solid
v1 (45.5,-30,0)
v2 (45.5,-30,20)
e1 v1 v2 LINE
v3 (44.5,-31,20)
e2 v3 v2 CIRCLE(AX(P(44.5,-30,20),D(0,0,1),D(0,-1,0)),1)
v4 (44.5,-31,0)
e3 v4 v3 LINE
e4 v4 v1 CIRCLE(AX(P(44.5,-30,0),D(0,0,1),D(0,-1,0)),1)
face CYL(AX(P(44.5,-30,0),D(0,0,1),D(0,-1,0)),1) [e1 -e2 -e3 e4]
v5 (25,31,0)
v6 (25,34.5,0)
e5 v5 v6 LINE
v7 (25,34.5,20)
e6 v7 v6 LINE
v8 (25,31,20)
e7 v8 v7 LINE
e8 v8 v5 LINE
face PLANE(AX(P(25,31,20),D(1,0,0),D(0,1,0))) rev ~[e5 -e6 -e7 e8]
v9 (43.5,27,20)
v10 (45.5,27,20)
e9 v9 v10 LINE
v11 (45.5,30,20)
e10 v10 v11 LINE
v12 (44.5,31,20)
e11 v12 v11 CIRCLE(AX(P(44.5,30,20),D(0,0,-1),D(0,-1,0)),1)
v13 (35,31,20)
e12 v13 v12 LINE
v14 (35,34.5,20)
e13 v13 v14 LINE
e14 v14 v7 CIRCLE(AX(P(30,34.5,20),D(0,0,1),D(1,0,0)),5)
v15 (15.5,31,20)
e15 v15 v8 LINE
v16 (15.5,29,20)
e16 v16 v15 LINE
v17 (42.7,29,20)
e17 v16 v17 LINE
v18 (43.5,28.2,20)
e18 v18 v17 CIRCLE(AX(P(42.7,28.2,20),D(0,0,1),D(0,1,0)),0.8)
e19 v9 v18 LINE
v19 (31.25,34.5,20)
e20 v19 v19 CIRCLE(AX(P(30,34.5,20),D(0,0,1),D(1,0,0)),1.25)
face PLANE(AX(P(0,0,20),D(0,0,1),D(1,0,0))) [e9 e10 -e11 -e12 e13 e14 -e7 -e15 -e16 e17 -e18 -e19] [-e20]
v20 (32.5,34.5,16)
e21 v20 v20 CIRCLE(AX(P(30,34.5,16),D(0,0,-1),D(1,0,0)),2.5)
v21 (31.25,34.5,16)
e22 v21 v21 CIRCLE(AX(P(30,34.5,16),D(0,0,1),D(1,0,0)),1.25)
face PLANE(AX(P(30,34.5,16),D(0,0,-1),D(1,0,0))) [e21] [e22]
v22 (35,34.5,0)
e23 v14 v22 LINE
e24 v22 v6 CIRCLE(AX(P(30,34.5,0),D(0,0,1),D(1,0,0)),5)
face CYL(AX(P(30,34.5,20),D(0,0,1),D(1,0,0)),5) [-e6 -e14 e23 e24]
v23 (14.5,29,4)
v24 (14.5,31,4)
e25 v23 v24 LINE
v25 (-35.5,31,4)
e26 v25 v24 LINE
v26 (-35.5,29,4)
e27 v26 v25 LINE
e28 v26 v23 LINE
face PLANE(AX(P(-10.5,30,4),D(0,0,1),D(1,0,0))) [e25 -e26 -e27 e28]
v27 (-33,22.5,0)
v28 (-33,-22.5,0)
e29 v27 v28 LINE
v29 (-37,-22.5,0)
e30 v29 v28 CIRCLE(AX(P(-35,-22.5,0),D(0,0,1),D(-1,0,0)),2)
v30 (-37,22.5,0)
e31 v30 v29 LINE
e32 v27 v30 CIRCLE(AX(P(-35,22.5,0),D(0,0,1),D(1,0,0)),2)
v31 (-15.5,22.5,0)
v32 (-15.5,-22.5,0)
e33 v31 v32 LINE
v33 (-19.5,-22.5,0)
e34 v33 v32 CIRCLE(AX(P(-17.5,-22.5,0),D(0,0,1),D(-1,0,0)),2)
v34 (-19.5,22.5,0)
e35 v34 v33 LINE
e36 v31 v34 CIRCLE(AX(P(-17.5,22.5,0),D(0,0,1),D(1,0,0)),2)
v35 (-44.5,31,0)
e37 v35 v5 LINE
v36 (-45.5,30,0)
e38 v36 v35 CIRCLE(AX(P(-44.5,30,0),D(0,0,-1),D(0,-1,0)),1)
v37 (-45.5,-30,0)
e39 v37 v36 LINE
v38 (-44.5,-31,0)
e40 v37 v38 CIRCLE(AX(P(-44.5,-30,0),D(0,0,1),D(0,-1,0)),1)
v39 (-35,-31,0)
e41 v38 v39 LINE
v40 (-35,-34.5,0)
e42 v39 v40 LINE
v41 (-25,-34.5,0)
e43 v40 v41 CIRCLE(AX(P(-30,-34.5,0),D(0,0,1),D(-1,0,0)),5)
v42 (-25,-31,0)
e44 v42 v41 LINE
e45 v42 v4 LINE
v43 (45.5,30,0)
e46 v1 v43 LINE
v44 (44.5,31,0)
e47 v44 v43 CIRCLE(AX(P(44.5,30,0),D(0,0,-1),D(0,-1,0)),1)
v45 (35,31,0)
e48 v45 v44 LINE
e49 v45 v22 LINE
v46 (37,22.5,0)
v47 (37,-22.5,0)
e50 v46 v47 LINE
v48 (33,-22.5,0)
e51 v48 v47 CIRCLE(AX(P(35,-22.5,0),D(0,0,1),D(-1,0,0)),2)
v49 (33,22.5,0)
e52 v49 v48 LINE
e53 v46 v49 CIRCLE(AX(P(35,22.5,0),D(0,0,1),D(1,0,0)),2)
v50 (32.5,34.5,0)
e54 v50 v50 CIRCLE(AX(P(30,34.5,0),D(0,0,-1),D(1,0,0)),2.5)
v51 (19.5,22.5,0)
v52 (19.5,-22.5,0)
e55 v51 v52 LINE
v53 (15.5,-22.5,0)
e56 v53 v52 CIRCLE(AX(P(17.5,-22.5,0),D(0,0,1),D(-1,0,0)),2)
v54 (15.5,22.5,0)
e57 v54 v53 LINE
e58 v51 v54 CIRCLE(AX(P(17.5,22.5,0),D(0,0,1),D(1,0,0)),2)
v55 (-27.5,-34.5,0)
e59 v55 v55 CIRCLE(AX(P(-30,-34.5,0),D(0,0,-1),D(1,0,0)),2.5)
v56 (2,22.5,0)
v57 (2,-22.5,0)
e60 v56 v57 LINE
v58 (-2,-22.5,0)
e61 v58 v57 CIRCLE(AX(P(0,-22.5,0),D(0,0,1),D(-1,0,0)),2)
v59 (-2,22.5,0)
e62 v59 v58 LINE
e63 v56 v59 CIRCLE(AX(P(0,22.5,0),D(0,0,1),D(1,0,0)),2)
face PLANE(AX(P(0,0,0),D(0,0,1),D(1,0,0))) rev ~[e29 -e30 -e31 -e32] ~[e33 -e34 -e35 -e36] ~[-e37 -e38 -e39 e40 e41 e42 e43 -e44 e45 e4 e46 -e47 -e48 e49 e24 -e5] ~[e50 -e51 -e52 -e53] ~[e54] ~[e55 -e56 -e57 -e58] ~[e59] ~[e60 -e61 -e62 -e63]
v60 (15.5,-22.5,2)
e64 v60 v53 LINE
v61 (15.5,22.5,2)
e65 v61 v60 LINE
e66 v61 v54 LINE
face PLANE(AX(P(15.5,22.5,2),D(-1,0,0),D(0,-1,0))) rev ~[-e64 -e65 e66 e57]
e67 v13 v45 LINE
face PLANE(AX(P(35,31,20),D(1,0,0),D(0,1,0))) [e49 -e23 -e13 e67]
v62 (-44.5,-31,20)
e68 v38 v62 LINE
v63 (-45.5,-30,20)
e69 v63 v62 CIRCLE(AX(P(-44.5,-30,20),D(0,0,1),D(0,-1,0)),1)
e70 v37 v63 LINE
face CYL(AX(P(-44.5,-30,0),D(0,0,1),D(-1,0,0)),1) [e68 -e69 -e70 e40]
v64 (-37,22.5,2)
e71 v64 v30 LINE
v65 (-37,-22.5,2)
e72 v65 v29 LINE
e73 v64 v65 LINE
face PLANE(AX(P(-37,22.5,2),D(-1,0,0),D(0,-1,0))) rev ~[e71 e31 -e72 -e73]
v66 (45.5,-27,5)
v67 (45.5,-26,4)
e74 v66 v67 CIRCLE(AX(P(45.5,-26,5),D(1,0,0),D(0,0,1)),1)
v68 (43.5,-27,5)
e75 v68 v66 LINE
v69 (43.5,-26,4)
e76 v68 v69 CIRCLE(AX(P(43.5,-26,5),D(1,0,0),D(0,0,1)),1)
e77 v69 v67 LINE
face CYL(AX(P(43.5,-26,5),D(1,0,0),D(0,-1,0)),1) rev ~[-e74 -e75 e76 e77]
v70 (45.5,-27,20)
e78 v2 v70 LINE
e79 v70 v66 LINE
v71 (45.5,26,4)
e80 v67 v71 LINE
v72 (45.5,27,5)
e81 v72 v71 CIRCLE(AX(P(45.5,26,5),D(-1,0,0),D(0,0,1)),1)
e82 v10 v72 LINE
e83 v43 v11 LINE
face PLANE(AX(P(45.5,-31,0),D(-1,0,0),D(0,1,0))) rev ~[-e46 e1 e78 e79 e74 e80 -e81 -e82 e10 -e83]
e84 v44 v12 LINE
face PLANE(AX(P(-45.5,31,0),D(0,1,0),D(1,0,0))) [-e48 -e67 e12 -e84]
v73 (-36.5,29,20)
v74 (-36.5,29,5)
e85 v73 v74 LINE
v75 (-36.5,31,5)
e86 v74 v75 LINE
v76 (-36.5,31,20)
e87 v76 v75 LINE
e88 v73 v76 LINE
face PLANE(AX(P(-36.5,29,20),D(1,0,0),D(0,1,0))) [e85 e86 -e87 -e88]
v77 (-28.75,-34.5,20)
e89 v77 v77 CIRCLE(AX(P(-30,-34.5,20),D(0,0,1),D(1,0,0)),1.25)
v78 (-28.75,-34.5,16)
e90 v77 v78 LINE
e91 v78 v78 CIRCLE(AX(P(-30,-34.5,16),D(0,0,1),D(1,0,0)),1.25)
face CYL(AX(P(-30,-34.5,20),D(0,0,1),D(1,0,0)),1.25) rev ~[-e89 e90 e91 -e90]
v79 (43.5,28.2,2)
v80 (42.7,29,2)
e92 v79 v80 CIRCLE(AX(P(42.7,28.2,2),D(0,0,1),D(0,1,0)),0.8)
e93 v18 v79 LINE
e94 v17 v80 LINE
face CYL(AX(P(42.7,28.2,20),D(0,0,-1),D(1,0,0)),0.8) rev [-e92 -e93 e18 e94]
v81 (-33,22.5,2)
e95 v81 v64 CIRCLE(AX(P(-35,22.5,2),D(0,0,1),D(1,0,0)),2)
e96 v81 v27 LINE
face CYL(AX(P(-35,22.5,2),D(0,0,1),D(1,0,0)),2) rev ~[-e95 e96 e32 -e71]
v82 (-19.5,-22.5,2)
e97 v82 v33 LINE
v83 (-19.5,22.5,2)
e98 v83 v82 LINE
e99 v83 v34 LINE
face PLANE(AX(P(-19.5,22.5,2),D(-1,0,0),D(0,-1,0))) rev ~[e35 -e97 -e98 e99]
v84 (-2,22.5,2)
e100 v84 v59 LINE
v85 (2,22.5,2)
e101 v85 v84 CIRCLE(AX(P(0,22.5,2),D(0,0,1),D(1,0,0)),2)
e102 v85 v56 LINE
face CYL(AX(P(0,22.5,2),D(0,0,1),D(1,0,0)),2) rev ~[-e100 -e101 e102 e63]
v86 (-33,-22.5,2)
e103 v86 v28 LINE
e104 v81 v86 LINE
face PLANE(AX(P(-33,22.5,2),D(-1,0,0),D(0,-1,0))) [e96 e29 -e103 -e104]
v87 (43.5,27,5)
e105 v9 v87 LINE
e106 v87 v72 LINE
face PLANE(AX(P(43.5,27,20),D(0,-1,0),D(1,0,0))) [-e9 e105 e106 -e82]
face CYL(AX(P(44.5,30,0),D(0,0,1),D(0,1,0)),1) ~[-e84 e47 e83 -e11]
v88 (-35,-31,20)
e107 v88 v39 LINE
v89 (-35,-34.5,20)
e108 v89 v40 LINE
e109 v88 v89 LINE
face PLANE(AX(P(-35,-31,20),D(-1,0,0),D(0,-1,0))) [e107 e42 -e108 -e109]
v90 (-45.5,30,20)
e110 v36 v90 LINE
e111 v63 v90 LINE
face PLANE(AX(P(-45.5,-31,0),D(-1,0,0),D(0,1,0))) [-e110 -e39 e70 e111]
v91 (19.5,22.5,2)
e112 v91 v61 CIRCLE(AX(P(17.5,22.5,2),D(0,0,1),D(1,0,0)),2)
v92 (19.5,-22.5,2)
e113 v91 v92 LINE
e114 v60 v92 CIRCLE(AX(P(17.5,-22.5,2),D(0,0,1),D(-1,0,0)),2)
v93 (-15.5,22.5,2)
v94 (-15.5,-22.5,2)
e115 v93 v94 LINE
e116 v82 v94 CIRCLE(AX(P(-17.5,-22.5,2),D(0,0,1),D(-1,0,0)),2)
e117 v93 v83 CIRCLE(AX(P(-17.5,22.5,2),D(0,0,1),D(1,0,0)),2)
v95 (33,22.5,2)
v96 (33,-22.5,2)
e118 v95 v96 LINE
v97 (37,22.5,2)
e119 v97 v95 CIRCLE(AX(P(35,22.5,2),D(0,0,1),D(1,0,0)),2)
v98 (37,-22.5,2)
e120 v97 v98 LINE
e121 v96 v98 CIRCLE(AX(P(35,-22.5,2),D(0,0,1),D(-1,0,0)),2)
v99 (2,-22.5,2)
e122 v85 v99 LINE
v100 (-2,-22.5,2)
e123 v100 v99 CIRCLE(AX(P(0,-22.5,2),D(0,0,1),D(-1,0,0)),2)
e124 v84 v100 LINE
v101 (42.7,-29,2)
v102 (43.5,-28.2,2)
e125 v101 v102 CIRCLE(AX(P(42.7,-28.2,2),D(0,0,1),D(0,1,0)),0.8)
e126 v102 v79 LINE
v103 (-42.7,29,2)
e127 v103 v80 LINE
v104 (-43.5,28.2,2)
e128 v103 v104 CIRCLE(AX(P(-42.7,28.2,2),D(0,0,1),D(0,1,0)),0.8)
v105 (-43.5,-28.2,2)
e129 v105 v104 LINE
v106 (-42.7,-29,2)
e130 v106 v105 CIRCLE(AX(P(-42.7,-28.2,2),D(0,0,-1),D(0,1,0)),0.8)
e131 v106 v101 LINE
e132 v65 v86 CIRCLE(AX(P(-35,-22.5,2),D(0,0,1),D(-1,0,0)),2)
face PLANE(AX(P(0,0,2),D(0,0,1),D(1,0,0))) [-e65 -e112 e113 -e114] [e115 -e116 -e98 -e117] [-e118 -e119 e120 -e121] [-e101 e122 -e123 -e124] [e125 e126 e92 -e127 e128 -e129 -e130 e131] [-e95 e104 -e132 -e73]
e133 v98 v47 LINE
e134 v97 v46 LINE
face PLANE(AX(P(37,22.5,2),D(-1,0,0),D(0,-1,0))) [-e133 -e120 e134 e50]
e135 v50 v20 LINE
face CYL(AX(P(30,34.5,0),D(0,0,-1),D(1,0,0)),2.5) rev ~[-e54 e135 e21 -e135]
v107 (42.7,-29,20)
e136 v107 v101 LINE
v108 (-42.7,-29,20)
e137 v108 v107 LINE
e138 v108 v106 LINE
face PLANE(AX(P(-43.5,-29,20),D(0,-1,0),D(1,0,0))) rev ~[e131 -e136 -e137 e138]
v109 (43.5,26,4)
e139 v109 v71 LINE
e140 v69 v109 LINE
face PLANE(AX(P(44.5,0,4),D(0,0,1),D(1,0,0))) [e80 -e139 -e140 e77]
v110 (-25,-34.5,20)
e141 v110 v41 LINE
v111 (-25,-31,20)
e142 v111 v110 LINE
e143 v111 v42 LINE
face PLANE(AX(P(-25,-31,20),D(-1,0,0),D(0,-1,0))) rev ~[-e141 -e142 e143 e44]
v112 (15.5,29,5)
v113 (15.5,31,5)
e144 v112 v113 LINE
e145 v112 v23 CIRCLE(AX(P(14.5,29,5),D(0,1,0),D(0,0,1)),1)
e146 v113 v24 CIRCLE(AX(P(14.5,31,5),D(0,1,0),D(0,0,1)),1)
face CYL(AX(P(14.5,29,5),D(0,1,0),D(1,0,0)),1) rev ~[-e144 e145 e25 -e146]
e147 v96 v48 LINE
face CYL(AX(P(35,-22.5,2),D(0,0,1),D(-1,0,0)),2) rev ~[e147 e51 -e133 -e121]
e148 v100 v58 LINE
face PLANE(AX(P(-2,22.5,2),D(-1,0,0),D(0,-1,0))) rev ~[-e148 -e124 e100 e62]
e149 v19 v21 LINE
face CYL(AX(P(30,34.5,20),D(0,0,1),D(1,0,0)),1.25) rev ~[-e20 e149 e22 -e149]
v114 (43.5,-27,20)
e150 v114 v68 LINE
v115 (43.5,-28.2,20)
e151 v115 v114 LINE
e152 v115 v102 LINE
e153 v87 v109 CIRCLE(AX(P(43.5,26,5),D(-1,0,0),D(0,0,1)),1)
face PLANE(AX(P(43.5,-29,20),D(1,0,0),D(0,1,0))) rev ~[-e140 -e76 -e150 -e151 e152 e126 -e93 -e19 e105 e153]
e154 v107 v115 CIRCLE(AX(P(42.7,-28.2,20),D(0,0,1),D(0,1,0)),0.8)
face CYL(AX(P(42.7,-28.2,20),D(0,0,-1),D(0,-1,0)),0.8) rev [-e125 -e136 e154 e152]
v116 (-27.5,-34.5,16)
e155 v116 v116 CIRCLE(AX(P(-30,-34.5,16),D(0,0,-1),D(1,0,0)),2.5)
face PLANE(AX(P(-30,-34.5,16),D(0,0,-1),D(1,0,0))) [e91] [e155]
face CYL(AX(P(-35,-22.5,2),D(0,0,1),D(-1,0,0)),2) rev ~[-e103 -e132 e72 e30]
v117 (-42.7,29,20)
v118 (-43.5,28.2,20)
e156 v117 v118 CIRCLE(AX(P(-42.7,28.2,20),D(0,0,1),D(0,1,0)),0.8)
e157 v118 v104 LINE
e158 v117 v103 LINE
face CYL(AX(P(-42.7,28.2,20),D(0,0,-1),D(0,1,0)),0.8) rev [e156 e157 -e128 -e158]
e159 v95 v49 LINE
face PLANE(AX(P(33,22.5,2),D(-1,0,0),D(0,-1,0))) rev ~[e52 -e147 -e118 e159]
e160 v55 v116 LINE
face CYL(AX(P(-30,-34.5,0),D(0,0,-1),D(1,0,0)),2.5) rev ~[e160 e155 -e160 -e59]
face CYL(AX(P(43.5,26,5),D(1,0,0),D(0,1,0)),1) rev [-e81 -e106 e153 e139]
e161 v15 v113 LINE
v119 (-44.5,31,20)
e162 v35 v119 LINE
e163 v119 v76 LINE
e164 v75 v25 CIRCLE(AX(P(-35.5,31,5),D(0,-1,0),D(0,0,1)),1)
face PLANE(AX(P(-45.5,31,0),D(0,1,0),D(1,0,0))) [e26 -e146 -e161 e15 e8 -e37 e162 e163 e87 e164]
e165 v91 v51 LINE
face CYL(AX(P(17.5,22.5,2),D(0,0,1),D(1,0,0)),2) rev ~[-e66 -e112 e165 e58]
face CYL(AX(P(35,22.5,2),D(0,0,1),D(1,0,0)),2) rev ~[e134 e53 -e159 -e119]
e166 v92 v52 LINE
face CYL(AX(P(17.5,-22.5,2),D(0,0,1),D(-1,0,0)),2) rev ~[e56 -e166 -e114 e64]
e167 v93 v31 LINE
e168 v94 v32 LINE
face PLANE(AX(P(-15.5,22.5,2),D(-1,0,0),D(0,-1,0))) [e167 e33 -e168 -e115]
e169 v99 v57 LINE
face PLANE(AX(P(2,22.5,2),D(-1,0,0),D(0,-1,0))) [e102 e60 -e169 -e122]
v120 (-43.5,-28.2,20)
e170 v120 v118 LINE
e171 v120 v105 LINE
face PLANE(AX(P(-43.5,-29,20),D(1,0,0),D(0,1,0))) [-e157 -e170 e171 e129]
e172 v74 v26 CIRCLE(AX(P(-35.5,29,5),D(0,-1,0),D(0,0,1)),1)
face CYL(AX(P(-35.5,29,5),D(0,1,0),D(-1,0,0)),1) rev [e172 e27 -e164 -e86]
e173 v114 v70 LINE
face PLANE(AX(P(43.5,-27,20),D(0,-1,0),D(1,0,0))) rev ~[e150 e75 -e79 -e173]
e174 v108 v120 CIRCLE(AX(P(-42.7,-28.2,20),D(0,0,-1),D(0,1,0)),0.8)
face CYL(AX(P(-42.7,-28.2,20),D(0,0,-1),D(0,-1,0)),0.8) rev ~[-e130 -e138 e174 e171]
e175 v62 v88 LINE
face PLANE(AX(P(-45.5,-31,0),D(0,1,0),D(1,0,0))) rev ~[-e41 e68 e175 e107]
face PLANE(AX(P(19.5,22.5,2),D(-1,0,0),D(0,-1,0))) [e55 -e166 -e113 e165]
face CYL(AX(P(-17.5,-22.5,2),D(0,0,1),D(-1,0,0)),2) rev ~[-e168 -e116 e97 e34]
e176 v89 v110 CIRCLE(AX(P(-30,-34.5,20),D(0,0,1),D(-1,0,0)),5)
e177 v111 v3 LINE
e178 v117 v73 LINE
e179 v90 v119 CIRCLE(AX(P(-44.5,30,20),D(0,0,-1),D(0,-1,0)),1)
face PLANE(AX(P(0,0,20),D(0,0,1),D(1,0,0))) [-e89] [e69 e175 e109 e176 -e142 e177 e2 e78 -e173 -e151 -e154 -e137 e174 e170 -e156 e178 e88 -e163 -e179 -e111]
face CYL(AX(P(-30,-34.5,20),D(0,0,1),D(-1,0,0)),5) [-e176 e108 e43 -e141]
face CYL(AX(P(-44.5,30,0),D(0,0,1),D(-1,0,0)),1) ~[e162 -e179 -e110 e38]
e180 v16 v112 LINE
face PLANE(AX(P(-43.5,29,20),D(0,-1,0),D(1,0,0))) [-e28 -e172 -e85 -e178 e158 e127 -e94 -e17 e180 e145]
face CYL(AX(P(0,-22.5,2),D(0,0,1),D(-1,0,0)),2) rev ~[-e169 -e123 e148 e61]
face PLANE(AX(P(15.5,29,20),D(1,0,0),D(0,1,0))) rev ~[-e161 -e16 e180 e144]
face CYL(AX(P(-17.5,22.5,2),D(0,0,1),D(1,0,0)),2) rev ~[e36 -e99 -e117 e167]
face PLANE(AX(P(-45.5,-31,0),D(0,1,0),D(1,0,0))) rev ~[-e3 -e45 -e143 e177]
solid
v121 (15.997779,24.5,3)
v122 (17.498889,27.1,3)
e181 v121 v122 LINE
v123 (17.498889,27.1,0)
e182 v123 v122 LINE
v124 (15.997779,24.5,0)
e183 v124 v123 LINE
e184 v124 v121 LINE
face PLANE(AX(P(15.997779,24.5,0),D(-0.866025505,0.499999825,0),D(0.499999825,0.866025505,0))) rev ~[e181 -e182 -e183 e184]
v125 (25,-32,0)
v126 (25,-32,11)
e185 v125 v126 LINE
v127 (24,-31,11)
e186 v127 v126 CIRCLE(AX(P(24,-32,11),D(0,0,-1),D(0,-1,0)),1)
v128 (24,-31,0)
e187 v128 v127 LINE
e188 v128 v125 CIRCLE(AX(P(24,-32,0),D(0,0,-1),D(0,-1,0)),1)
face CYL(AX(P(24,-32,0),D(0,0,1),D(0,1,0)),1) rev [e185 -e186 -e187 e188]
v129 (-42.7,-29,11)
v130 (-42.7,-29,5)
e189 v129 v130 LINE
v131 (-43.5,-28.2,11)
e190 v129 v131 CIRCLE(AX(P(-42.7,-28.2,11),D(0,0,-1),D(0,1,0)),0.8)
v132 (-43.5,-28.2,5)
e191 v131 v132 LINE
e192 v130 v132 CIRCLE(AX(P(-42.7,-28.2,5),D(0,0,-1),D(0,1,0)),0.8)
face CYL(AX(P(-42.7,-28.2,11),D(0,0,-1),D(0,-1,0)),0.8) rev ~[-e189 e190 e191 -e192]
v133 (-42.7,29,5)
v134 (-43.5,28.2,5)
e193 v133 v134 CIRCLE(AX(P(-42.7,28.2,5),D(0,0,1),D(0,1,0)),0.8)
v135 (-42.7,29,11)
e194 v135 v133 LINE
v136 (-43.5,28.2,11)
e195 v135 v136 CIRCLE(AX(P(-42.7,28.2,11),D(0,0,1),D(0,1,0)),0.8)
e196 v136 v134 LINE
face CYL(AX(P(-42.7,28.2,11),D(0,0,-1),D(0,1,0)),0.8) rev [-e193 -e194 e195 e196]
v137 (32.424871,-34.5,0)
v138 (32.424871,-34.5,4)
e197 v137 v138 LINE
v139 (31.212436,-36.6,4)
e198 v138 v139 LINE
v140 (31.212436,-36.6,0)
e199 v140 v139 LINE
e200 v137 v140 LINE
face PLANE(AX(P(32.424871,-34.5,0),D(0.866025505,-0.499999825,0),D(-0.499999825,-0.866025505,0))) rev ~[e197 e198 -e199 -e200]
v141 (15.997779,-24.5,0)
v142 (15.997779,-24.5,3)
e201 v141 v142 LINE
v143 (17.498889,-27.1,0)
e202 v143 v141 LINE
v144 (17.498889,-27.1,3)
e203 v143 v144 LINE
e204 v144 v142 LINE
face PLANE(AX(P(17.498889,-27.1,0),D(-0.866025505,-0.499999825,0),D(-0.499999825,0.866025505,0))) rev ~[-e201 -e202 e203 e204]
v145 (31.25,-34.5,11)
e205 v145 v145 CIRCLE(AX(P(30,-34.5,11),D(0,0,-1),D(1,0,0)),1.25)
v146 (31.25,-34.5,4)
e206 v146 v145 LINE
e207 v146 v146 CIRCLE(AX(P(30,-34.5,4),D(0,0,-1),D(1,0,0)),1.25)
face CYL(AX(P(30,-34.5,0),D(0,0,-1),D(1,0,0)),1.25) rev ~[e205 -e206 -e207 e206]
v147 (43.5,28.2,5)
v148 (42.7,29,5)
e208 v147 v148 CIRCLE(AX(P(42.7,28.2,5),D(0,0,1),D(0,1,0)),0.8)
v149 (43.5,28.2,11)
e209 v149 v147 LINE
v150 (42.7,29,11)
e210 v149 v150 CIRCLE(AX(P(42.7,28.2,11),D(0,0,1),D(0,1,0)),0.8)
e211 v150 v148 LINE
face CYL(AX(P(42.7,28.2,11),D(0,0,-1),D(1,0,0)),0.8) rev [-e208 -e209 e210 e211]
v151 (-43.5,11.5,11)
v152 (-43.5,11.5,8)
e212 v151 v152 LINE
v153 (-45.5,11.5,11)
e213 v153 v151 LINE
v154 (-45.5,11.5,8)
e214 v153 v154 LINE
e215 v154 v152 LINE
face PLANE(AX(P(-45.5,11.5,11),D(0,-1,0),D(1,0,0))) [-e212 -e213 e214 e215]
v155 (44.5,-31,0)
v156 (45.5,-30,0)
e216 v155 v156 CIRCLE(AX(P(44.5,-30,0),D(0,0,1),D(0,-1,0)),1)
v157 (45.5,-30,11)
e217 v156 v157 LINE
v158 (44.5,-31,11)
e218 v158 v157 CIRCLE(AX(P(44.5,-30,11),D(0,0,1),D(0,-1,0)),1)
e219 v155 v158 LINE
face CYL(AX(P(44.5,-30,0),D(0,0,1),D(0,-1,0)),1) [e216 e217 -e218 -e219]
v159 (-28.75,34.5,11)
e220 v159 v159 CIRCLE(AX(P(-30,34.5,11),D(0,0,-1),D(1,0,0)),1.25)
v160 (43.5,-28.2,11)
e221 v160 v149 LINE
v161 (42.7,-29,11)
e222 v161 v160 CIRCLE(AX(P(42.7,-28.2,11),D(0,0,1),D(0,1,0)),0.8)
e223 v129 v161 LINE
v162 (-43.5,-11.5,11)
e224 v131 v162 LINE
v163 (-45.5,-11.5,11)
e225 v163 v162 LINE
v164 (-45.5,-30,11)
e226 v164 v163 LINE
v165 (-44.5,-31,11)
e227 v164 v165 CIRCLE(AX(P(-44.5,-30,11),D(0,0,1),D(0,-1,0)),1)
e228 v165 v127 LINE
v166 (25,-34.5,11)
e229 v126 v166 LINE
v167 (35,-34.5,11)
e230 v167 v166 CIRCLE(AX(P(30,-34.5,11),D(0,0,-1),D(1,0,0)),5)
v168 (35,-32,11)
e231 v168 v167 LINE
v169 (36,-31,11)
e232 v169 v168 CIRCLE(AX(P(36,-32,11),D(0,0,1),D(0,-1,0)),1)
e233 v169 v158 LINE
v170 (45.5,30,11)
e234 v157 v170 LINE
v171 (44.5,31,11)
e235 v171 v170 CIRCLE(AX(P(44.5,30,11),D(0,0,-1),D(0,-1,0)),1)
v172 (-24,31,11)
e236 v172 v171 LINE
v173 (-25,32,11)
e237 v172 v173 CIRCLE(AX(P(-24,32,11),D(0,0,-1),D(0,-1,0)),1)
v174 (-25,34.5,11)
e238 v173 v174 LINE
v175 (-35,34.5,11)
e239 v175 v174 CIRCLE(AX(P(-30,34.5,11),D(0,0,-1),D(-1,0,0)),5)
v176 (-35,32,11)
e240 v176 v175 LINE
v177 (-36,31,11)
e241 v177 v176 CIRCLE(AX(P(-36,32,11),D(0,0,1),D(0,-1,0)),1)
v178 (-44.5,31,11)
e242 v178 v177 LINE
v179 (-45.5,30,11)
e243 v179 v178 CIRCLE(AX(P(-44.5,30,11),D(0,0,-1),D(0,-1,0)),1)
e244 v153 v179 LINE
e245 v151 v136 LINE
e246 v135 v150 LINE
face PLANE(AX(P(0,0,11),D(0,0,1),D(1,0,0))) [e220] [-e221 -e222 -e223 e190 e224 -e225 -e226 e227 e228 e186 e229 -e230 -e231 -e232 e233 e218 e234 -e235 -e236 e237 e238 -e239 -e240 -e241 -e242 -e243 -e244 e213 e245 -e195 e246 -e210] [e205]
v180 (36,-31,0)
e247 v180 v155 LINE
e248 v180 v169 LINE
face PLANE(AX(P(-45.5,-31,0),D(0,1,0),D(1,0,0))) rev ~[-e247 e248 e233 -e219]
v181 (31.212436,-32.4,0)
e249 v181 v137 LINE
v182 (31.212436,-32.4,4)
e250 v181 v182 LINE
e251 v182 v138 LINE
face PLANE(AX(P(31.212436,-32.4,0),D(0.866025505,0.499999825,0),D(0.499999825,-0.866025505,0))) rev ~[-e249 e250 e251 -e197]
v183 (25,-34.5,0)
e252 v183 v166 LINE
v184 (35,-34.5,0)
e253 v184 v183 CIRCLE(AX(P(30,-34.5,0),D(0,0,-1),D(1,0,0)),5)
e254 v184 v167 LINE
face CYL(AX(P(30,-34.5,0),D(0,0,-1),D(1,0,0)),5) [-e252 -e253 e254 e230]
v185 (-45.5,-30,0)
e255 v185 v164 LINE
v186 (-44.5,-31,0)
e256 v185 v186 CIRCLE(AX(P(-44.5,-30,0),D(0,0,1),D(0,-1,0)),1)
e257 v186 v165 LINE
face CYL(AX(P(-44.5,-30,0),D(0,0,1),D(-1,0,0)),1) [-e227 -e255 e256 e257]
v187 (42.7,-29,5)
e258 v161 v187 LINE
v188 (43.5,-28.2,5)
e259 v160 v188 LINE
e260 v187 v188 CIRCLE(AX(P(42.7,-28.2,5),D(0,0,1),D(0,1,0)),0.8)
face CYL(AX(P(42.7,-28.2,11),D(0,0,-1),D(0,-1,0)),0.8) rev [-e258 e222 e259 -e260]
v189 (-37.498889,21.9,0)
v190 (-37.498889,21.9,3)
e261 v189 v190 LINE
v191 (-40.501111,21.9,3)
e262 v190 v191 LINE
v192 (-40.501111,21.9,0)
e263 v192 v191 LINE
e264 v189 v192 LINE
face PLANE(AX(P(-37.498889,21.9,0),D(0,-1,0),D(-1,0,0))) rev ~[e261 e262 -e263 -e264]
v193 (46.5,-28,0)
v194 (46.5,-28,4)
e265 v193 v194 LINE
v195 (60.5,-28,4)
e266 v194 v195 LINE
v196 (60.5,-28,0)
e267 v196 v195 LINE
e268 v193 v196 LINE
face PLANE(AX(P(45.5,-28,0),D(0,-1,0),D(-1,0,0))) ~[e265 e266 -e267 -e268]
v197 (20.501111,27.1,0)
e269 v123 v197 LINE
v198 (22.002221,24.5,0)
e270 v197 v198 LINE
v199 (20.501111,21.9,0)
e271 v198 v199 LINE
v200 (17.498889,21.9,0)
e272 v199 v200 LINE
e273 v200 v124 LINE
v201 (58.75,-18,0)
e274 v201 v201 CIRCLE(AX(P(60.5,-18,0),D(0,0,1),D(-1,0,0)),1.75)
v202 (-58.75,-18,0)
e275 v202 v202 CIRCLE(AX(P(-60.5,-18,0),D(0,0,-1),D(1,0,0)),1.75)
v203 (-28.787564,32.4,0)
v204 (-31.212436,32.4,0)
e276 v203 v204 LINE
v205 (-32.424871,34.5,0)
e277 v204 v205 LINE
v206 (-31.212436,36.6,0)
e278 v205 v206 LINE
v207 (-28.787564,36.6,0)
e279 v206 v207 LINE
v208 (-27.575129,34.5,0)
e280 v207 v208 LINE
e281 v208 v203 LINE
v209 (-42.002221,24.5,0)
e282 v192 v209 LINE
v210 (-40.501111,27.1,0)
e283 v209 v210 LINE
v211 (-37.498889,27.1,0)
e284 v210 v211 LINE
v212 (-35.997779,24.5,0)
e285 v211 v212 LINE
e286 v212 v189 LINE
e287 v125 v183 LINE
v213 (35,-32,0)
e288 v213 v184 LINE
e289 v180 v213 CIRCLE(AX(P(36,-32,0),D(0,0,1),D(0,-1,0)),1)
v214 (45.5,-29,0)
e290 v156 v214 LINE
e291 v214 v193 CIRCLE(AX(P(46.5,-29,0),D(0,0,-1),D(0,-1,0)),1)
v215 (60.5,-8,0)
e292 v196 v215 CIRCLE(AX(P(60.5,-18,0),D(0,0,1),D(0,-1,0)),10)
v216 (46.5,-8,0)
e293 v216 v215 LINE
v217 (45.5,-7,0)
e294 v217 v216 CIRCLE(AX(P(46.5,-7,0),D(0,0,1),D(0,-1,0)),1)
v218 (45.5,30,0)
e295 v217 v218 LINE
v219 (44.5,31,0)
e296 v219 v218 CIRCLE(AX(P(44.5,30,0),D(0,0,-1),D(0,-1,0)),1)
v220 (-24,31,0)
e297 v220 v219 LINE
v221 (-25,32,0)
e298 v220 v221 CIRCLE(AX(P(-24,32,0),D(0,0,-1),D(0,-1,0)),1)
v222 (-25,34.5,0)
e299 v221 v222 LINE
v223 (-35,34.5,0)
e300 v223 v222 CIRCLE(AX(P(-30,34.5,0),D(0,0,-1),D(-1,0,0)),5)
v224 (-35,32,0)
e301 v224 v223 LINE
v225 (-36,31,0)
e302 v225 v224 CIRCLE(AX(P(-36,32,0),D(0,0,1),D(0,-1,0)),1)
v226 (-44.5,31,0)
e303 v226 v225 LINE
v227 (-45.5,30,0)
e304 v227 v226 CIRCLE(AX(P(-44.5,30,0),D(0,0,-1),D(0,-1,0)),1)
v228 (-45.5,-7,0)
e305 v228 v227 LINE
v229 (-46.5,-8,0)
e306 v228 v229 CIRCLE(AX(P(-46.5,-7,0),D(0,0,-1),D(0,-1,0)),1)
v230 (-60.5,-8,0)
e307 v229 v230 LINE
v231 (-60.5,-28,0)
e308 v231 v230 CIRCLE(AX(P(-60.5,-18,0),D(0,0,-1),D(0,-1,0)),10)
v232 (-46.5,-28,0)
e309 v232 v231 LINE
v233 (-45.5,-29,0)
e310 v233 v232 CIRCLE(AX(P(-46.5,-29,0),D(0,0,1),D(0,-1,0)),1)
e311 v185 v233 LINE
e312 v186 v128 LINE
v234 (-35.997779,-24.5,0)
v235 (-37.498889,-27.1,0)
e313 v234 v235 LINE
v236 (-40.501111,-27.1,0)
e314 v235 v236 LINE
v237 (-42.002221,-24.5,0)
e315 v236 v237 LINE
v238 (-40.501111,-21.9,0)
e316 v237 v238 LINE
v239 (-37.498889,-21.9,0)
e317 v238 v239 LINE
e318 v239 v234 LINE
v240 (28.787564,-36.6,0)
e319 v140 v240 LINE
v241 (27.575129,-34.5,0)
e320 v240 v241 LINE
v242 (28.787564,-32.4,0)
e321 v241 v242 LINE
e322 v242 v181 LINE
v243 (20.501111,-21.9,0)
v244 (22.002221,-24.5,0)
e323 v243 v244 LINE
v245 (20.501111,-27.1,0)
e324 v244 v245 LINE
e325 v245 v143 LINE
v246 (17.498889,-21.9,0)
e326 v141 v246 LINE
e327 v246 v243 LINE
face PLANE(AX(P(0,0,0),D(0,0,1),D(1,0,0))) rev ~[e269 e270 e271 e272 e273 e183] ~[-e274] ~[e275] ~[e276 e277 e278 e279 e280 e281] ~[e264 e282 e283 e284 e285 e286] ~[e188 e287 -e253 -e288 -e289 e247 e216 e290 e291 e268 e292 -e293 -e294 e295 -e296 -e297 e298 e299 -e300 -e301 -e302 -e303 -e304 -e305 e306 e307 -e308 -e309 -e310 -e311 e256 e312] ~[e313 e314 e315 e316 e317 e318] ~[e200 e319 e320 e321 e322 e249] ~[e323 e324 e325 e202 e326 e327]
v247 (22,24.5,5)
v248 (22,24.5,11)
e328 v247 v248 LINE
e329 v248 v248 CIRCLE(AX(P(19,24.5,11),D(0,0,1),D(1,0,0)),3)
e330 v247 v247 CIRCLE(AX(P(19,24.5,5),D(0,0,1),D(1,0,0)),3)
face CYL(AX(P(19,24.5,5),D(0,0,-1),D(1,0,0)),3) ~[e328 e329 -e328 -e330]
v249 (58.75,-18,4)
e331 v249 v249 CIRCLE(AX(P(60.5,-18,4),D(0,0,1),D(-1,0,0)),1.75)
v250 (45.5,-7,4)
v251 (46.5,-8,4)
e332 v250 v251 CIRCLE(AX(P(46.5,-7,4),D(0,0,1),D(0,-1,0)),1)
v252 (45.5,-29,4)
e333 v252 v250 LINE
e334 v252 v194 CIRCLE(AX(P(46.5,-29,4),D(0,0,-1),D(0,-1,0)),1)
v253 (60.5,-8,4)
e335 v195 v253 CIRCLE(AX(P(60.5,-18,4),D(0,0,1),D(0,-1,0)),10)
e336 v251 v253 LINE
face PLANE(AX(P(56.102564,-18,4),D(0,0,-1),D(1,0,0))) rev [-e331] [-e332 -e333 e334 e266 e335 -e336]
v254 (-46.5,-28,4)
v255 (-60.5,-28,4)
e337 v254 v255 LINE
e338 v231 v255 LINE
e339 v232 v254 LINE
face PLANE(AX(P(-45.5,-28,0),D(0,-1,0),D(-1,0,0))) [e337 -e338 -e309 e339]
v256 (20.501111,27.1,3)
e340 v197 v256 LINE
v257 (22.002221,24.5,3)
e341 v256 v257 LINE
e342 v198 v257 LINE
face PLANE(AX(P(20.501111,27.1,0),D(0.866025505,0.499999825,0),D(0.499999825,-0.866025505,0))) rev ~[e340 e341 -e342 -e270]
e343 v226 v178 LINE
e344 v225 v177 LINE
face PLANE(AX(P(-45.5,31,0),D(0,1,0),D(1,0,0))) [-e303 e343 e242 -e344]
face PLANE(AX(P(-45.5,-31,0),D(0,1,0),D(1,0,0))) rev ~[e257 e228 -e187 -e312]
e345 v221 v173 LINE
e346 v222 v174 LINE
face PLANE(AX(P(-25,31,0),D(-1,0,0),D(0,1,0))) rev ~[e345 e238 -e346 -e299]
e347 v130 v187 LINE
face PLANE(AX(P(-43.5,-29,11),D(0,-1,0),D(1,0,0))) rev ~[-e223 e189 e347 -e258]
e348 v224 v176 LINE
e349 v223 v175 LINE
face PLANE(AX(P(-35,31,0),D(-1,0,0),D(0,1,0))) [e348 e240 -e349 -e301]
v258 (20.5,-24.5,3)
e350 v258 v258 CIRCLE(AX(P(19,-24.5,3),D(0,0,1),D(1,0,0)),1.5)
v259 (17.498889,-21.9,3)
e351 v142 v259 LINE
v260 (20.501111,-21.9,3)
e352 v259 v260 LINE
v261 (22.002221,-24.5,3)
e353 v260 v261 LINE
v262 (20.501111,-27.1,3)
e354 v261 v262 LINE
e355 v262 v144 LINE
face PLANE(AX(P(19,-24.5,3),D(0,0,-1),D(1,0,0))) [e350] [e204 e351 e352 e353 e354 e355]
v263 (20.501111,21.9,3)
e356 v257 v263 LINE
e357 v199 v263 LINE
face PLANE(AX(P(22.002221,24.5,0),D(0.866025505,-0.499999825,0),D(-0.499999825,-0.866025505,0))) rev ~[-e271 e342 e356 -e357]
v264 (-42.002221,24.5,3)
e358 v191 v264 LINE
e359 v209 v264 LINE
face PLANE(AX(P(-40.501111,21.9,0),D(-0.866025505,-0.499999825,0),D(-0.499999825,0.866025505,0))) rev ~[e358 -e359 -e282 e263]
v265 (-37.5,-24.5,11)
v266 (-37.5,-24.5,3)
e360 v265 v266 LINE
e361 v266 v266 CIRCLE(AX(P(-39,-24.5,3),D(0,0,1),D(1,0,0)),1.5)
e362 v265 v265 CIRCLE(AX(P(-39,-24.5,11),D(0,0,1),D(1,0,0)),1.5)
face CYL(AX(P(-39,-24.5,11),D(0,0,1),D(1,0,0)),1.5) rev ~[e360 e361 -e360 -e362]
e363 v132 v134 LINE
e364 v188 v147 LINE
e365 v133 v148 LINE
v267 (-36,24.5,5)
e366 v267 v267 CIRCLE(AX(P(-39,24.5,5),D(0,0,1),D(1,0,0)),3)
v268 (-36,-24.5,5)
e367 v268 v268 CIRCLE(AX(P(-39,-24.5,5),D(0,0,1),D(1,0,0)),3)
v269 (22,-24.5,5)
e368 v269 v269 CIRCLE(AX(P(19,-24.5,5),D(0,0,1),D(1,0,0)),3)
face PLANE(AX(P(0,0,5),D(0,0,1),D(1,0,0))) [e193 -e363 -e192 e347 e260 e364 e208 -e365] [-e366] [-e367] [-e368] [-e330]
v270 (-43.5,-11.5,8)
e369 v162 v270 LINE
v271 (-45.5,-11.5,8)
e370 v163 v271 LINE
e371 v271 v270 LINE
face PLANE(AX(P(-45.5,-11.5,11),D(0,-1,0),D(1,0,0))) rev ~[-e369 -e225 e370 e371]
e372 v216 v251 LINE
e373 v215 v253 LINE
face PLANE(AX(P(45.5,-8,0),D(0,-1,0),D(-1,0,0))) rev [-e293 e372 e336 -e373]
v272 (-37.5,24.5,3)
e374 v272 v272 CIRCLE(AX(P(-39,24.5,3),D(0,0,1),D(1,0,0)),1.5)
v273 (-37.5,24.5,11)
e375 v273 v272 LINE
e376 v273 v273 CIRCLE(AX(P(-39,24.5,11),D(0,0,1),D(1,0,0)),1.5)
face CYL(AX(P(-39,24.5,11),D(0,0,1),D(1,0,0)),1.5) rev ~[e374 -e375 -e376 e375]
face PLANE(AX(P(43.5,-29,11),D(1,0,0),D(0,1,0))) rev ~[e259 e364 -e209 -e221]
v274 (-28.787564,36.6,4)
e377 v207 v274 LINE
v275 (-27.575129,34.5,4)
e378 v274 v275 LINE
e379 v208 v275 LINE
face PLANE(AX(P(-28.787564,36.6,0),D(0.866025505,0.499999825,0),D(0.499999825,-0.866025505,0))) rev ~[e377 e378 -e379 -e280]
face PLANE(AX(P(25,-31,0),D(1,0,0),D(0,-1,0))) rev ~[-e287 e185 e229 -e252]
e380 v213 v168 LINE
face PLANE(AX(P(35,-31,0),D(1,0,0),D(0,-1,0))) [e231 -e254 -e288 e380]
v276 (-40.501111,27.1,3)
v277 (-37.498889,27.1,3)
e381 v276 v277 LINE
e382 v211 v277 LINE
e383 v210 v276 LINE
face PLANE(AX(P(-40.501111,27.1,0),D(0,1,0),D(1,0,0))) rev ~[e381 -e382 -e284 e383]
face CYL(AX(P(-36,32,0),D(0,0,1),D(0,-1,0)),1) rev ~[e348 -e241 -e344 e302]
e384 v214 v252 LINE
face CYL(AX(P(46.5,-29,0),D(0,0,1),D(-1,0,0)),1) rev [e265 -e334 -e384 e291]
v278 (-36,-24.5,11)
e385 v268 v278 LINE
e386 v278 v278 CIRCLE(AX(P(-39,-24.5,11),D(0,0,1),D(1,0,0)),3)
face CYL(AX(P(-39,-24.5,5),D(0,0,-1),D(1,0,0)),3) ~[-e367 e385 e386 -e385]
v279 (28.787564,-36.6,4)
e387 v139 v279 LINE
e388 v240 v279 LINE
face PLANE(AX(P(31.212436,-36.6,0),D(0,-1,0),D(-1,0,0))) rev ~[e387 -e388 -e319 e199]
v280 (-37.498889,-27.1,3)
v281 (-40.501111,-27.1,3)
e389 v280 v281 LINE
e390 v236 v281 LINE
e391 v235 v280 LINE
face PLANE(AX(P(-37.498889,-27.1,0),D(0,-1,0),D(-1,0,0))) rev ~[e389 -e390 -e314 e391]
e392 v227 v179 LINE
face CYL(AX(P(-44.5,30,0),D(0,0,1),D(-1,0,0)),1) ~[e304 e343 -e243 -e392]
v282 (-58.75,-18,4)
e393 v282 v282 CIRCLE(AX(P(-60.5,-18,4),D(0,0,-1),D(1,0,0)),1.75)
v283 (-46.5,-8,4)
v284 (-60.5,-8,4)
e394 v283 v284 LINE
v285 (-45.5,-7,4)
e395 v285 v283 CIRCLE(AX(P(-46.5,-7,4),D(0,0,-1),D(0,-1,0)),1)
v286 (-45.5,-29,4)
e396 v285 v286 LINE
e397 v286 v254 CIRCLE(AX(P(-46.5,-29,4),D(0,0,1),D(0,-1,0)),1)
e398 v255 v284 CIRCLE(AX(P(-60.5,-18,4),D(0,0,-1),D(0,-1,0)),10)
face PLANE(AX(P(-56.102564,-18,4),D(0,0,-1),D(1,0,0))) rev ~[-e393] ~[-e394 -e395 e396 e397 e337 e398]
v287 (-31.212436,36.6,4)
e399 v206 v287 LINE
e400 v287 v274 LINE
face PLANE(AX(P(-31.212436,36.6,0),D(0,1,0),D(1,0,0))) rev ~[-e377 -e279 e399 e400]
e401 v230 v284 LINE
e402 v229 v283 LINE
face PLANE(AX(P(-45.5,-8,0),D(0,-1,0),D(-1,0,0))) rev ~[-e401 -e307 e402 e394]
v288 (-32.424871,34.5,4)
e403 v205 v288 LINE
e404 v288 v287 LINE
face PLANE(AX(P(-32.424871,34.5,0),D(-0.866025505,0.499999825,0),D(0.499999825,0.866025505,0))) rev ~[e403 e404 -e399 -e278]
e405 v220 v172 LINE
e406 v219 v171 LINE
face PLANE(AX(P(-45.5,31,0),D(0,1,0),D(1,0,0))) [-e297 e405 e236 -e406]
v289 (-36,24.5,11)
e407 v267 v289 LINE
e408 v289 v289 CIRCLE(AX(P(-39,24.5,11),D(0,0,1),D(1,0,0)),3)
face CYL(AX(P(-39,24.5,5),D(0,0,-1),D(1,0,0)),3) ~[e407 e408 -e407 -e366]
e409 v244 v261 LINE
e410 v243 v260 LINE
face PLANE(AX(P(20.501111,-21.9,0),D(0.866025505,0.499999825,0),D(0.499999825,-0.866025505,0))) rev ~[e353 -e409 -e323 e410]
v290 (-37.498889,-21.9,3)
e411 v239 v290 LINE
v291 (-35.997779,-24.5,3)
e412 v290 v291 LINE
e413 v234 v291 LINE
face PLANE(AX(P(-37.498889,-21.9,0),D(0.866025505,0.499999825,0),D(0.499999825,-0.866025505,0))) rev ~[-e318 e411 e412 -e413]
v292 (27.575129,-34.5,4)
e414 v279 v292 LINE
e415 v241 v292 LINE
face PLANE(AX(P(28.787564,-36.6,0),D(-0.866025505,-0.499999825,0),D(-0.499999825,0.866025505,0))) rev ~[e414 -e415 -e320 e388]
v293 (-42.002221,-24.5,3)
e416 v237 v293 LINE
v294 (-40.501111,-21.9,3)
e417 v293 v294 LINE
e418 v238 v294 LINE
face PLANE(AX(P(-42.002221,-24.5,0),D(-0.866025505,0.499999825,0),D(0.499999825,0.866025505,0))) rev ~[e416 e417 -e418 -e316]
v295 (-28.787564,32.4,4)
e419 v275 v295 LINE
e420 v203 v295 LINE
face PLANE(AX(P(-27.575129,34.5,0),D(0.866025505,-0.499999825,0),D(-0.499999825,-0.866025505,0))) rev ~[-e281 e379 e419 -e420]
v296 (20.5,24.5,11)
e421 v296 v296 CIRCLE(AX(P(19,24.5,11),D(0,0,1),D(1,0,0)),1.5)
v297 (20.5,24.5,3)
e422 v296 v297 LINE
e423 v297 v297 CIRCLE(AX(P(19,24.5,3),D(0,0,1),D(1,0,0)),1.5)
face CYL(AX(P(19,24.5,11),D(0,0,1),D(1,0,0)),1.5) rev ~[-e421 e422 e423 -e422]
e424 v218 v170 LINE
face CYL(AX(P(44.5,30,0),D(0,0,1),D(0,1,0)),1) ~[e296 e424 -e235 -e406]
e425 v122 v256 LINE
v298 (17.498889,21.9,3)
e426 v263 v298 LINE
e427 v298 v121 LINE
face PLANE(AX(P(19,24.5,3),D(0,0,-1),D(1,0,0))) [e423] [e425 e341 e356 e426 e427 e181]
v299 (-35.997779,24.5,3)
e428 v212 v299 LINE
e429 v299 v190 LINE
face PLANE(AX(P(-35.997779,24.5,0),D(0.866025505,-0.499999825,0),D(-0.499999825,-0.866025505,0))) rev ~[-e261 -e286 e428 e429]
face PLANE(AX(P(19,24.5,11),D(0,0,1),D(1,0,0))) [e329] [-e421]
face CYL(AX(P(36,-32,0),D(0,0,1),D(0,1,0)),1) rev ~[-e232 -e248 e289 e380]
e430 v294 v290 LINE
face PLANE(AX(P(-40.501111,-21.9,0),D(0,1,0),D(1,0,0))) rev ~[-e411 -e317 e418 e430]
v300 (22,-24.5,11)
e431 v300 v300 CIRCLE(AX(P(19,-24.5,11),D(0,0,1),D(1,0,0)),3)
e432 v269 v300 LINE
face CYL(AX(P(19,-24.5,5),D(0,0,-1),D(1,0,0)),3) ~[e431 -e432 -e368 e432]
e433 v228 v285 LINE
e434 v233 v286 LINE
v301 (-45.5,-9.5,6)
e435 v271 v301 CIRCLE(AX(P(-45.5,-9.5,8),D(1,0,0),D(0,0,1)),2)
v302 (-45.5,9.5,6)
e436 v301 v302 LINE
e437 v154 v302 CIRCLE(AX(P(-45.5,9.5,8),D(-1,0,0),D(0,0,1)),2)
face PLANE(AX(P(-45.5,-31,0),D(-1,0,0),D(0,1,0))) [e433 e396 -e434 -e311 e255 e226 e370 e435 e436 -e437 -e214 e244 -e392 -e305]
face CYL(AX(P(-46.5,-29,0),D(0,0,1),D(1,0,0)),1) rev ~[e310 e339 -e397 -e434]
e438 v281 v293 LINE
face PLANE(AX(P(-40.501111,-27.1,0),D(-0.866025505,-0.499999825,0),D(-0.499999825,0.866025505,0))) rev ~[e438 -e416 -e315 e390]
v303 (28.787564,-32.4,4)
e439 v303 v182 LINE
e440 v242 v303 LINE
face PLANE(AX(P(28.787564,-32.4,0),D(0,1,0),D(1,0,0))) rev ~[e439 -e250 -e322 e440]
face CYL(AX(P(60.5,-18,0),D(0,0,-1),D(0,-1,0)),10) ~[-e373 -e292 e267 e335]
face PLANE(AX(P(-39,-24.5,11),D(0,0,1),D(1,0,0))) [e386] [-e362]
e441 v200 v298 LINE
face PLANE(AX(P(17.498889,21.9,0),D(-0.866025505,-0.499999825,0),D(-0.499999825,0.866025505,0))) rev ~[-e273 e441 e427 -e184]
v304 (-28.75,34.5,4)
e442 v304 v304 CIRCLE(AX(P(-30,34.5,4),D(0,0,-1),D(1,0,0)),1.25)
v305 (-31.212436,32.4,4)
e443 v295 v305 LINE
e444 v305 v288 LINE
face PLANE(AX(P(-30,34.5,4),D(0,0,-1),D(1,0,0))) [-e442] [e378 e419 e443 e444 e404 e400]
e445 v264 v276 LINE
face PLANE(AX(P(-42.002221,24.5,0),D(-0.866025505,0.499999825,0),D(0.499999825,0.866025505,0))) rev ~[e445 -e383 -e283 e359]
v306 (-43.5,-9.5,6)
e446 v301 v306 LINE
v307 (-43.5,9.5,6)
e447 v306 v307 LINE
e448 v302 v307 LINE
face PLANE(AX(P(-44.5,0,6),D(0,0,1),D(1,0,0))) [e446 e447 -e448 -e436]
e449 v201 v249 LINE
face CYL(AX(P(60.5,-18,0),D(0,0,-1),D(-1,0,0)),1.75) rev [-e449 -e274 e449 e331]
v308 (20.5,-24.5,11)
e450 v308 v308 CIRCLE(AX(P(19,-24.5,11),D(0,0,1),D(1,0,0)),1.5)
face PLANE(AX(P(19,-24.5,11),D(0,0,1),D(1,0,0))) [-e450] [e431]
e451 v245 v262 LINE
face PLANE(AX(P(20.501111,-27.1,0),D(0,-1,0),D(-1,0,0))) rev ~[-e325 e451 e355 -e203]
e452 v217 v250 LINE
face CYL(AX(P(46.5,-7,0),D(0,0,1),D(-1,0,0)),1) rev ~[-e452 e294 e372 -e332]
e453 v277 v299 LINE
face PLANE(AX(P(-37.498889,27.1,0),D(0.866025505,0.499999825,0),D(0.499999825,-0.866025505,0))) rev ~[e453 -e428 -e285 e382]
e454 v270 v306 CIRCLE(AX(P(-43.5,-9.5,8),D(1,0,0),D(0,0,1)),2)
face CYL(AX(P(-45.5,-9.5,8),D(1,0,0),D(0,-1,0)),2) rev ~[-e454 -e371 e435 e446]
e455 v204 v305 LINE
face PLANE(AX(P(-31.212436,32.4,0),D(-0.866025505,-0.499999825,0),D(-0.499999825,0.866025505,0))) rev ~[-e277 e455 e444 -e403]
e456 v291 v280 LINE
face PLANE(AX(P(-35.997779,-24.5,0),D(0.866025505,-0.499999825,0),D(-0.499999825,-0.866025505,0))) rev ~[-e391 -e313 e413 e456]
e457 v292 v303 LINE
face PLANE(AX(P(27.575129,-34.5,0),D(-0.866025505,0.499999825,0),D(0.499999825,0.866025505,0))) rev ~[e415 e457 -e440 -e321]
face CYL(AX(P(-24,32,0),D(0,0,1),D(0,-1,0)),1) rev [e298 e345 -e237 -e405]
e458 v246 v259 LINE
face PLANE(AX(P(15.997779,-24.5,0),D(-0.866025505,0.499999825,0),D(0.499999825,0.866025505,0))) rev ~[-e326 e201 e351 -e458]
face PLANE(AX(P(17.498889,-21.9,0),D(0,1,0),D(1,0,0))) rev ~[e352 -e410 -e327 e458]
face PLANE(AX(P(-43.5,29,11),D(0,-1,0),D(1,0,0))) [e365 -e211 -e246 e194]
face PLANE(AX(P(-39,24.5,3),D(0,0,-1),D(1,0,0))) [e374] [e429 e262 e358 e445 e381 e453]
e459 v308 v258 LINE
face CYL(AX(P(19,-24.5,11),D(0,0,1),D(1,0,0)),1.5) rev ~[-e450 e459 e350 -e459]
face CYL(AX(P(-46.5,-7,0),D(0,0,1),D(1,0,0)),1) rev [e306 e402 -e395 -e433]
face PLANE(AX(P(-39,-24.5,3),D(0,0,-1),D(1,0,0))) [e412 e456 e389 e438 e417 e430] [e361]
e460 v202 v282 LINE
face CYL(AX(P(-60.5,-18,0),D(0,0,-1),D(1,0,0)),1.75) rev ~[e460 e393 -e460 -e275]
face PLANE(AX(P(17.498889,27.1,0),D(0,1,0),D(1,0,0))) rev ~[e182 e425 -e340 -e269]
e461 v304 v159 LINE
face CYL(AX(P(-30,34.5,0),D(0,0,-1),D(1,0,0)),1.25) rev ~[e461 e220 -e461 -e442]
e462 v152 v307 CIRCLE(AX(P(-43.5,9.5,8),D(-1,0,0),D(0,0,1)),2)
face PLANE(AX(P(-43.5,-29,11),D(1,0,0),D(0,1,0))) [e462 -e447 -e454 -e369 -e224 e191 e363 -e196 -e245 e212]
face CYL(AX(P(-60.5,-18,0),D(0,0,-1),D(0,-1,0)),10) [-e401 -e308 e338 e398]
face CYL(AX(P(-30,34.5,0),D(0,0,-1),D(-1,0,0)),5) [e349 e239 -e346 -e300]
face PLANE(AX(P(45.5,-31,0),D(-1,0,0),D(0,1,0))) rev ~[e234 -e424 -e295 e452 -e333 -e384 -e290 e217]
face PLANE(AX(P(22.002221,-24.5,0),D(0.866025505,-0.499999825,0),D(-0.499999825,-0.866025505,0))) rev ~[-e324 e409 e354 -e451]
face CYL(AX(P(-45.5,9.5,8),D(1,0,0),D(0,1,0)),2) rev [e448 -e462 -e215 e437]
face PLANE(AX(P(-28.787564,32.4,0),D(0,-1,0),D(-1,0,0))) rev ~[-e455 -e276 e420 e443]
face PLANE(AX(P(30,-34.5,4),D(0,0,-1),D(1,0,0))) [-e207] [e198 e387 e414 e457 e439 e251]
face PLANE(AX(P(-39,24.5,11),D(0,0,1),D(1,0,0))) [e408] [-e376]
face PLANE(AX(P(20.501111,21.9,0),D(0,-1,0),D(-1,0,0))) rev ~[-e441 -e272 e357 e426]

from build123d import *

# Parameters (mm, degrees)
SKETCH_W               = 91
SKETCH_H               = 62
PAD_DEPTH              = 11
SKETCH001_W            = 87
SKETCH001_H            = 58
POCKET_DEPTH           = 6
FILLET_R               = 1
FILLET001_R            = 0.8
SKETCH002_R            = 3
PAD001_DEPTH           = 6
SKETCH003_R            = 1.5
POCKET001_DEPTH        = 11.001
POCKET002_DEPTH        = 3
SKETCH005_W            = 2
SKETCH005_H            = 23
POCKET003_DEPTH        = 5
FILLET002_R            = 2
SKETCH006_R            = 1.75
PAD002_DEPTH           = 4
FILLET003_R            = 1
SKETCH007_R            = 1.25
PAD003_DEPTH           = 11
FILLET004_R            = 1
POCKET004_DEPTH        = 4
SKETCH009_W            = 91
SKETCH009_H            = 62
PAD004_DEPTH           = 20
SKETCH010_W            = 87
SKETCH010_H            = 58
POCKET005_DEPTH        = 18
FILLET005_R            = 1
FILLET006_R            = 0.8
POCKET006_DEPTH        = 2.001
LINEARPATTERN_COUNT    = 3
LINEARPATTERN_PITCH    = 17.5
LINEARPATTERN001_COUNT = 3
LINEARPATTERN001_PITCH = 17.5
SKETCH012_W            = 2
SKETCH012_H            = 54
POCKET007_DEPTH        = 16
FILLET007_R            = 1
SKETCH013_W            = 52
SKETCH013_H            = 2
POCKET008_DEPTH        = 16
FILLET008_R            = 1
SKETCH014_R            = 1.25
PAD005_DEPTH           = 20
SKETCH015_R            = 2.5
POCKET009_DEPTH        = 16


with BuildPart() as bottom:
    # Sketch → Pad (new body)
    with BuildSketch(Plane.XY):
        Rectangle(SKETCH_W, SKETCH_H)
    extrude(amount=PAD_DEPTH)

    # Sketch001 (on Face6 of Pad) → Pocket (cut)
    with BuildSketch(Plane.XY.offset(11)):
        Rectangle(SKETCH001_W, SKETCH001_H)
    extrude(amount=-POCKET_DEPTH, mode=Mode.SUBTRACT)

    # Fillet
    fillet_edges = [bottom.edges().sort_by_distance(p)[0] for p in [
        (-45.5, 31, 5.5),
        (-45.5, -31, 5.5),
        (45.5, -31, 5.5),
        (45.5, 31, 5.5),
    ]]
    fillet(fillet_edges, radius=FILLET_R)

    # Fillet001
    fillet001_edges = [bottom.edges().sort_by_distance(p)[0] for p in [
        (-43.5, 29, 8),
        (-43.5, -29, 8),
        (43.5, 29, 8),
        (43.5, -29, 8),
    ]]
    fillet(fillet001_edges, radius=FILLET001_R)

    # Sketch002 (on Face18 of Fillet001) → Pad001 (join)
    with BuildSketch(Plane.XY.offset(5)):
        with Locations((-39, 24.5)):
            Circle(SKETCH002_R)
        with Locations((19, 24.5)):
            Circle(SKETCH002_R)
        with Locations((-39, -24.5)):
            Circle(SKETCH002_R)
        with Locations((19, -24.5)):
            Circle(SKETCH002_R)
    extrude(amount=PAD001_DEPTH)

    # Sketch003 (on Face26 of Pad001) → Pocket001 (cut, through all)
    with BuildSketch(Plane.XY.offset(11)):
        with Locations((-39, 24.5)):
            Circle(SKETCH003_R)
        with Locations((19, 24.5)):
            Circle(SKETCH003_R)
        with Locations((-39, -24.5)):
            Circle(SKETCH003_R)
        with Locations((19, -24.5)):
            Circle(SKETCH003_R)
    extrude(amount=-POCKET001_DEPTH, mode=Mode.SUBTRACT)

    # Sketch004 (on Face19 of Pocket001) → Pocket002 (cut)
    with BuildSketch(Plane(origin=(0, 0, 0), x_dir=(1, 0, 0), z_dir=(0, 0, -1))):
        Polygon((-37.498889, 27.1), (-40.501111, 27.1), (-42.002221, 24.5), (-40.501111, 21.9), (-37.498889, 21.9), (-35.997779, 24.5), align=None)
        Polygon((22.002221, 24.5), (20.501111, 27.1), (17.498889, 27.1), (15.997779, 24.5), (17.498889, 21.9), (20.501111, 21.9), align=None)
        Polygon((-35.997779, -24.5), (-37.498889, -21.9), (-40.501111, -21.9), (-42.002221, -24.5), (-40.501111, -27.1), (-37.498889, -27.1), align=None)
        Polygon((20.501111, -21.9), (17.498889, -21.9), (15.997779, -24.5), (17.498889, -27.1), (20.501111, -27.1), (22.002221, -24.5), align=None)
    extrude(amount=-POCKET002_DEPTH, mode=Mode.SUBTRACT)

    # Sketch005 (on Face1 of Pocket002) → Pocket003 (cut)
    with BuildSketch(Plane.XY.offset(11)):
        with Locations((-44.5, 0)):
            Rectangle(SKETCH005_W, SKETCH005_H)
    extrude(amount=-POCKET003_DEPTH, mode=Mode.SUBTRACT)

    # Fillet002
    fillet002_edges = [bottom.edges().sort_by_distance(p)[0] for p in [
        (-44.5, 11.5, 6),
        (-44.5, -11.5, 6),
    ]]
    fillet(fillet002_edges, radius=FILLET002_R)

    # Sketch006 (on Face28 of Fillet002) → Pad002 (join)
    with BuildSketch(Plane(origin=(0, 0, 0), x_dir=(1, 0, 0), z_dir=(0, 0, -1))):
        with BuildLine():
            Line((-45.5, 28), (-60.5, 28))
            ThreePointArc((-60.5, 28), (-70.5, 18), (-60.5, 8))
            Line((-45.5, 8), (-60.5, 8))
            Line((-45.5, 28), (-45.5, 8))
        make_face()
        with Locations((-60.5, 18)):
            Circle(SKETCH006_R, mode=Mode.SUBTRACT)
    pad002 = extrude(amount=-PAD002_DEPTH)

    # Mirrored: Pad002 across Sketch006 V_Axis
    add(pad002.mirror(Plane(origin=(0, 0, 0), x_dir=(0, 0, -1), z_dir=(1, 0, 0))))

    # Fillet003
    fillet003_edges = [bottom.edges().sort_by_distance(p)[0] for p in [
        (-45.5, -28, 2),
        (-45.5, -8, 2),
        (45.5, -28, 2),
        (45.5, -8, 2),
    ]]
    fillet(fillet003_edges, radius=FILLET003_R)

    # Sketch007 (on Face2 of Fillet003) → Pad003 (join)
    with BuildSketch(Plane(origin=(0, 0, 0), x_dir=(1, 0, 0), z_dir=(0, 0, -1))):
        with BuildLine():
            Line((25, 31), (25, 34.5))
            ThreePointArc((35, 34.5), (30, 39.5), (25, 34.5))
            Line((35, 31), (35, 34.5))
            Line((25, 31), (35, 31))
        make_face()
        with Locations((30, 34.5)):
            Circle(SKETCH007_R, mode=Mode.SUBTRACT)
        with BuildLine():
            Line((-35, -31), (-35, -34.5))
            ThreePointArc((-35, -34.5), (-30, -39.5), (-25, -34.5))
            Line((-25, -31), (-25, -34.5))
            Line((-35, -31), (-25, -31))
        make_face()
        with Locations((-30, -34.5)):
            Circle(SKETCH007_R, mode=Mode.SUBTRACT)
    extrude(amount=-PAD003_DEPTH)

    # Fillet004
    fillet004_edges = [bottom.edges().sort_by_distance(p)[0] for p in [
        (-25, 31, 5.5),
        (-35, 31, 5.5),
        (25, -31, 5.5),
        (35, -31, 5.5),
    ]]
    fillet(fillet004_edges, radius=FILLET004_R)

    # Sketch008 (on Face13 of Fillet004) → Pocket004 (cut)
    with BuildSketch(Plane(origin=(0, 0, 0), x_dir=(1, 0, 0), z_dir=(0, 0, -1))):
        Polygon((-28.787564, -32.4), (-31.212436, -32.4), (-32.424871, -34.5), (-31.212436, -36.6), (-28.787564, -36.6), (-27.575129, -34.5), align=None)
        Polygon((31.212436, 36.6), (28.787564, 36.6), (27.575129, 34.5), (28.787564, 32.4), (31.212436, 32.4), (32.424871, 34.5), align=None)
    extrude(amount=-POCKET004_DEPTH, mode=Mode.SUBTRACT)


with BuildPart() as top:
    # Sketch009 → Pad004 (new body)
    with BuildSketch(Plane.XY):
        Rectangle(SKETCH009_W, SKETCH009_H)
    extrude(amount=PAD004_DEPTH)

    # Sketch010 (on Face6 of Pad004) → Pocket005 (cut)
    with BuildSketch(Plane.XY.offset(20)):
        Rectangle(SKETCH010_W, SKETCH010_H)
    extrude(amount=-POCKET005_DEPTH, mode=Mode.SUBTRACT)

    # Fillet005
    fillet005_edges = [top.edges().sort_by_distance(p)[0] for p in [
        (-45.5, -31, 10),
        (-45.5, 31, 10),
        (45.5, 31, 10),
        (45.5, -31, 10),
    ]]
    fillet(fillet005_edges, radius=FILLET005_R)

    # Fillet006
    fillet006_edges = [top.edges().sort_by_distance(p)[0] for p in [
        (-43.5, 29, 11),
        (-43.5, -29, 11),
        (43.5, -29, 11),
        (43.5, 29, 11),
    ]]
    fillet(fillet006_edges, radius=FILLET006_R)

    # Sketch011 (on Face18 of Fillet006) → Pocket006 (cut, through all)
    with BuildSketch(Plane.XY.offset(2)):
        with BuildLine():
            Line((-2, 22.5), (-2, -22.5))
            ThreePointArc((-2, -22.5), (0, -24.5), (2, -22.5))
            Line((2, 22.5), (2, -22.5))
            ThreePointArc((2, 22.5), (0, 24.5), (-2, 22.5))
        make_face()
    pocket006 = extrude(amount=-POCKET006_DEPTH, mode=Mode.SUBTRACT)

    # LinearPattern: Pocket006 ×3
    with Locations(*[(i * LINEARPATTERN_PITCH, 0, 0) for i in range(1, LINEARPATTERN_COUNT)]):
        add(pocket006, mode=Mode.SUBTRACT)

    # LinearPattern001: Pocket006 ×3
    with Locations(*[(-i * LINEARPATTERN001_PITCH, 0, 0) for i in range(1, LINEARPATTERN001_COUNT)]):
        add(pocket006, mode=Mode.SUBTRACT)

    # Sketch012 (on Face1 of LinearPattern001) → Pocket007 (cut)
    with BuildSketch(Plane.XY.offset(20)):
        with Locations((44.5, 0)):
            Rectangle(SKETCH012_W, SKETCH012_H)
    extrude(amount=-POCKET007_DEPTH, mode=Mode.SUBTRACT)

    # Fillet007
    fillet007_edges = [top.edges().sort_by_distance(p)[0] for p in [
        (44.5, -27, 4),
        (44.5, 27, 4),
    ]]
    fillet(fillet007_edges, radius=FILLET007_R)

    # Sketch013 (on Face4 of Fillet007) → Pocket008 (cut)
    with BuildSketch(Plane.XY.offset(20)):
        with Locations((-10.5, 30)):
            Rectangle(SKETCH013_W, SKETCH013_H)
    extrude(amount=-POCKET008_DEPTH, mode=Mode.SUBTRACT)

    # Fillet008
    fillet008_edges = [top.edges().sort_by_distance(p)[0] for p in [
        (-36.5, 30, 4),
        (15.5, 30, 4),
    ]]
    fillet(fillet008_edges, radius=FILLET008_R)

    # Sketch014 (on Face11 of Fillet008) → Pad005 (join)
    with BuildSketch(Plane.XY.offset(20)):
        with BuildLine():
            Line((-35, -31), (-35, -34.5))
            ThreePointArc((-35, -34.5), (-30, -39.5), (-25, -34.5))
            Line((-25, -31), (-25, -34.5))
            Line((-35, -31), (-25, -31))
        make_face()
        with Locations((-30, -34.5)):
            Circle(SKETCH014_R, mode=Mode.SUBTRACT)
        with BuildLine():
            Line((25, 31), (25, 34.5))
            ThreePointArc((35, 34.5), (30, 39.5), (25, 34.5))
            Line((35, 31), (35, 34.5))
            Line((25, 31), (35, 31))
        make_face()
        with Locations((30, 34.5)):
            Circle(SKETCH014_R, mode=Mode.SUBTRACT)
    extrude(amount=-PAD005_DEPTH)

    # Sketch015 (on Face23 of Pad005) → Pocket009 (cut)
    with BuildSketch(Plane(origin=(0, 0, 0), x_dir=(1, 0, 0), z_dir=(0, 0, -1))):
        with Locations((-30, 34.5)):
            Circle(SKETCH015_R)
        with Locations((30, -34.5)):
            Circle(SKETCH015_R)
    extrude(amount=-POCKET009_DEPTH, mode=Mode.SUBTRACT)


solid = Compound([bottom.part, top.part])
